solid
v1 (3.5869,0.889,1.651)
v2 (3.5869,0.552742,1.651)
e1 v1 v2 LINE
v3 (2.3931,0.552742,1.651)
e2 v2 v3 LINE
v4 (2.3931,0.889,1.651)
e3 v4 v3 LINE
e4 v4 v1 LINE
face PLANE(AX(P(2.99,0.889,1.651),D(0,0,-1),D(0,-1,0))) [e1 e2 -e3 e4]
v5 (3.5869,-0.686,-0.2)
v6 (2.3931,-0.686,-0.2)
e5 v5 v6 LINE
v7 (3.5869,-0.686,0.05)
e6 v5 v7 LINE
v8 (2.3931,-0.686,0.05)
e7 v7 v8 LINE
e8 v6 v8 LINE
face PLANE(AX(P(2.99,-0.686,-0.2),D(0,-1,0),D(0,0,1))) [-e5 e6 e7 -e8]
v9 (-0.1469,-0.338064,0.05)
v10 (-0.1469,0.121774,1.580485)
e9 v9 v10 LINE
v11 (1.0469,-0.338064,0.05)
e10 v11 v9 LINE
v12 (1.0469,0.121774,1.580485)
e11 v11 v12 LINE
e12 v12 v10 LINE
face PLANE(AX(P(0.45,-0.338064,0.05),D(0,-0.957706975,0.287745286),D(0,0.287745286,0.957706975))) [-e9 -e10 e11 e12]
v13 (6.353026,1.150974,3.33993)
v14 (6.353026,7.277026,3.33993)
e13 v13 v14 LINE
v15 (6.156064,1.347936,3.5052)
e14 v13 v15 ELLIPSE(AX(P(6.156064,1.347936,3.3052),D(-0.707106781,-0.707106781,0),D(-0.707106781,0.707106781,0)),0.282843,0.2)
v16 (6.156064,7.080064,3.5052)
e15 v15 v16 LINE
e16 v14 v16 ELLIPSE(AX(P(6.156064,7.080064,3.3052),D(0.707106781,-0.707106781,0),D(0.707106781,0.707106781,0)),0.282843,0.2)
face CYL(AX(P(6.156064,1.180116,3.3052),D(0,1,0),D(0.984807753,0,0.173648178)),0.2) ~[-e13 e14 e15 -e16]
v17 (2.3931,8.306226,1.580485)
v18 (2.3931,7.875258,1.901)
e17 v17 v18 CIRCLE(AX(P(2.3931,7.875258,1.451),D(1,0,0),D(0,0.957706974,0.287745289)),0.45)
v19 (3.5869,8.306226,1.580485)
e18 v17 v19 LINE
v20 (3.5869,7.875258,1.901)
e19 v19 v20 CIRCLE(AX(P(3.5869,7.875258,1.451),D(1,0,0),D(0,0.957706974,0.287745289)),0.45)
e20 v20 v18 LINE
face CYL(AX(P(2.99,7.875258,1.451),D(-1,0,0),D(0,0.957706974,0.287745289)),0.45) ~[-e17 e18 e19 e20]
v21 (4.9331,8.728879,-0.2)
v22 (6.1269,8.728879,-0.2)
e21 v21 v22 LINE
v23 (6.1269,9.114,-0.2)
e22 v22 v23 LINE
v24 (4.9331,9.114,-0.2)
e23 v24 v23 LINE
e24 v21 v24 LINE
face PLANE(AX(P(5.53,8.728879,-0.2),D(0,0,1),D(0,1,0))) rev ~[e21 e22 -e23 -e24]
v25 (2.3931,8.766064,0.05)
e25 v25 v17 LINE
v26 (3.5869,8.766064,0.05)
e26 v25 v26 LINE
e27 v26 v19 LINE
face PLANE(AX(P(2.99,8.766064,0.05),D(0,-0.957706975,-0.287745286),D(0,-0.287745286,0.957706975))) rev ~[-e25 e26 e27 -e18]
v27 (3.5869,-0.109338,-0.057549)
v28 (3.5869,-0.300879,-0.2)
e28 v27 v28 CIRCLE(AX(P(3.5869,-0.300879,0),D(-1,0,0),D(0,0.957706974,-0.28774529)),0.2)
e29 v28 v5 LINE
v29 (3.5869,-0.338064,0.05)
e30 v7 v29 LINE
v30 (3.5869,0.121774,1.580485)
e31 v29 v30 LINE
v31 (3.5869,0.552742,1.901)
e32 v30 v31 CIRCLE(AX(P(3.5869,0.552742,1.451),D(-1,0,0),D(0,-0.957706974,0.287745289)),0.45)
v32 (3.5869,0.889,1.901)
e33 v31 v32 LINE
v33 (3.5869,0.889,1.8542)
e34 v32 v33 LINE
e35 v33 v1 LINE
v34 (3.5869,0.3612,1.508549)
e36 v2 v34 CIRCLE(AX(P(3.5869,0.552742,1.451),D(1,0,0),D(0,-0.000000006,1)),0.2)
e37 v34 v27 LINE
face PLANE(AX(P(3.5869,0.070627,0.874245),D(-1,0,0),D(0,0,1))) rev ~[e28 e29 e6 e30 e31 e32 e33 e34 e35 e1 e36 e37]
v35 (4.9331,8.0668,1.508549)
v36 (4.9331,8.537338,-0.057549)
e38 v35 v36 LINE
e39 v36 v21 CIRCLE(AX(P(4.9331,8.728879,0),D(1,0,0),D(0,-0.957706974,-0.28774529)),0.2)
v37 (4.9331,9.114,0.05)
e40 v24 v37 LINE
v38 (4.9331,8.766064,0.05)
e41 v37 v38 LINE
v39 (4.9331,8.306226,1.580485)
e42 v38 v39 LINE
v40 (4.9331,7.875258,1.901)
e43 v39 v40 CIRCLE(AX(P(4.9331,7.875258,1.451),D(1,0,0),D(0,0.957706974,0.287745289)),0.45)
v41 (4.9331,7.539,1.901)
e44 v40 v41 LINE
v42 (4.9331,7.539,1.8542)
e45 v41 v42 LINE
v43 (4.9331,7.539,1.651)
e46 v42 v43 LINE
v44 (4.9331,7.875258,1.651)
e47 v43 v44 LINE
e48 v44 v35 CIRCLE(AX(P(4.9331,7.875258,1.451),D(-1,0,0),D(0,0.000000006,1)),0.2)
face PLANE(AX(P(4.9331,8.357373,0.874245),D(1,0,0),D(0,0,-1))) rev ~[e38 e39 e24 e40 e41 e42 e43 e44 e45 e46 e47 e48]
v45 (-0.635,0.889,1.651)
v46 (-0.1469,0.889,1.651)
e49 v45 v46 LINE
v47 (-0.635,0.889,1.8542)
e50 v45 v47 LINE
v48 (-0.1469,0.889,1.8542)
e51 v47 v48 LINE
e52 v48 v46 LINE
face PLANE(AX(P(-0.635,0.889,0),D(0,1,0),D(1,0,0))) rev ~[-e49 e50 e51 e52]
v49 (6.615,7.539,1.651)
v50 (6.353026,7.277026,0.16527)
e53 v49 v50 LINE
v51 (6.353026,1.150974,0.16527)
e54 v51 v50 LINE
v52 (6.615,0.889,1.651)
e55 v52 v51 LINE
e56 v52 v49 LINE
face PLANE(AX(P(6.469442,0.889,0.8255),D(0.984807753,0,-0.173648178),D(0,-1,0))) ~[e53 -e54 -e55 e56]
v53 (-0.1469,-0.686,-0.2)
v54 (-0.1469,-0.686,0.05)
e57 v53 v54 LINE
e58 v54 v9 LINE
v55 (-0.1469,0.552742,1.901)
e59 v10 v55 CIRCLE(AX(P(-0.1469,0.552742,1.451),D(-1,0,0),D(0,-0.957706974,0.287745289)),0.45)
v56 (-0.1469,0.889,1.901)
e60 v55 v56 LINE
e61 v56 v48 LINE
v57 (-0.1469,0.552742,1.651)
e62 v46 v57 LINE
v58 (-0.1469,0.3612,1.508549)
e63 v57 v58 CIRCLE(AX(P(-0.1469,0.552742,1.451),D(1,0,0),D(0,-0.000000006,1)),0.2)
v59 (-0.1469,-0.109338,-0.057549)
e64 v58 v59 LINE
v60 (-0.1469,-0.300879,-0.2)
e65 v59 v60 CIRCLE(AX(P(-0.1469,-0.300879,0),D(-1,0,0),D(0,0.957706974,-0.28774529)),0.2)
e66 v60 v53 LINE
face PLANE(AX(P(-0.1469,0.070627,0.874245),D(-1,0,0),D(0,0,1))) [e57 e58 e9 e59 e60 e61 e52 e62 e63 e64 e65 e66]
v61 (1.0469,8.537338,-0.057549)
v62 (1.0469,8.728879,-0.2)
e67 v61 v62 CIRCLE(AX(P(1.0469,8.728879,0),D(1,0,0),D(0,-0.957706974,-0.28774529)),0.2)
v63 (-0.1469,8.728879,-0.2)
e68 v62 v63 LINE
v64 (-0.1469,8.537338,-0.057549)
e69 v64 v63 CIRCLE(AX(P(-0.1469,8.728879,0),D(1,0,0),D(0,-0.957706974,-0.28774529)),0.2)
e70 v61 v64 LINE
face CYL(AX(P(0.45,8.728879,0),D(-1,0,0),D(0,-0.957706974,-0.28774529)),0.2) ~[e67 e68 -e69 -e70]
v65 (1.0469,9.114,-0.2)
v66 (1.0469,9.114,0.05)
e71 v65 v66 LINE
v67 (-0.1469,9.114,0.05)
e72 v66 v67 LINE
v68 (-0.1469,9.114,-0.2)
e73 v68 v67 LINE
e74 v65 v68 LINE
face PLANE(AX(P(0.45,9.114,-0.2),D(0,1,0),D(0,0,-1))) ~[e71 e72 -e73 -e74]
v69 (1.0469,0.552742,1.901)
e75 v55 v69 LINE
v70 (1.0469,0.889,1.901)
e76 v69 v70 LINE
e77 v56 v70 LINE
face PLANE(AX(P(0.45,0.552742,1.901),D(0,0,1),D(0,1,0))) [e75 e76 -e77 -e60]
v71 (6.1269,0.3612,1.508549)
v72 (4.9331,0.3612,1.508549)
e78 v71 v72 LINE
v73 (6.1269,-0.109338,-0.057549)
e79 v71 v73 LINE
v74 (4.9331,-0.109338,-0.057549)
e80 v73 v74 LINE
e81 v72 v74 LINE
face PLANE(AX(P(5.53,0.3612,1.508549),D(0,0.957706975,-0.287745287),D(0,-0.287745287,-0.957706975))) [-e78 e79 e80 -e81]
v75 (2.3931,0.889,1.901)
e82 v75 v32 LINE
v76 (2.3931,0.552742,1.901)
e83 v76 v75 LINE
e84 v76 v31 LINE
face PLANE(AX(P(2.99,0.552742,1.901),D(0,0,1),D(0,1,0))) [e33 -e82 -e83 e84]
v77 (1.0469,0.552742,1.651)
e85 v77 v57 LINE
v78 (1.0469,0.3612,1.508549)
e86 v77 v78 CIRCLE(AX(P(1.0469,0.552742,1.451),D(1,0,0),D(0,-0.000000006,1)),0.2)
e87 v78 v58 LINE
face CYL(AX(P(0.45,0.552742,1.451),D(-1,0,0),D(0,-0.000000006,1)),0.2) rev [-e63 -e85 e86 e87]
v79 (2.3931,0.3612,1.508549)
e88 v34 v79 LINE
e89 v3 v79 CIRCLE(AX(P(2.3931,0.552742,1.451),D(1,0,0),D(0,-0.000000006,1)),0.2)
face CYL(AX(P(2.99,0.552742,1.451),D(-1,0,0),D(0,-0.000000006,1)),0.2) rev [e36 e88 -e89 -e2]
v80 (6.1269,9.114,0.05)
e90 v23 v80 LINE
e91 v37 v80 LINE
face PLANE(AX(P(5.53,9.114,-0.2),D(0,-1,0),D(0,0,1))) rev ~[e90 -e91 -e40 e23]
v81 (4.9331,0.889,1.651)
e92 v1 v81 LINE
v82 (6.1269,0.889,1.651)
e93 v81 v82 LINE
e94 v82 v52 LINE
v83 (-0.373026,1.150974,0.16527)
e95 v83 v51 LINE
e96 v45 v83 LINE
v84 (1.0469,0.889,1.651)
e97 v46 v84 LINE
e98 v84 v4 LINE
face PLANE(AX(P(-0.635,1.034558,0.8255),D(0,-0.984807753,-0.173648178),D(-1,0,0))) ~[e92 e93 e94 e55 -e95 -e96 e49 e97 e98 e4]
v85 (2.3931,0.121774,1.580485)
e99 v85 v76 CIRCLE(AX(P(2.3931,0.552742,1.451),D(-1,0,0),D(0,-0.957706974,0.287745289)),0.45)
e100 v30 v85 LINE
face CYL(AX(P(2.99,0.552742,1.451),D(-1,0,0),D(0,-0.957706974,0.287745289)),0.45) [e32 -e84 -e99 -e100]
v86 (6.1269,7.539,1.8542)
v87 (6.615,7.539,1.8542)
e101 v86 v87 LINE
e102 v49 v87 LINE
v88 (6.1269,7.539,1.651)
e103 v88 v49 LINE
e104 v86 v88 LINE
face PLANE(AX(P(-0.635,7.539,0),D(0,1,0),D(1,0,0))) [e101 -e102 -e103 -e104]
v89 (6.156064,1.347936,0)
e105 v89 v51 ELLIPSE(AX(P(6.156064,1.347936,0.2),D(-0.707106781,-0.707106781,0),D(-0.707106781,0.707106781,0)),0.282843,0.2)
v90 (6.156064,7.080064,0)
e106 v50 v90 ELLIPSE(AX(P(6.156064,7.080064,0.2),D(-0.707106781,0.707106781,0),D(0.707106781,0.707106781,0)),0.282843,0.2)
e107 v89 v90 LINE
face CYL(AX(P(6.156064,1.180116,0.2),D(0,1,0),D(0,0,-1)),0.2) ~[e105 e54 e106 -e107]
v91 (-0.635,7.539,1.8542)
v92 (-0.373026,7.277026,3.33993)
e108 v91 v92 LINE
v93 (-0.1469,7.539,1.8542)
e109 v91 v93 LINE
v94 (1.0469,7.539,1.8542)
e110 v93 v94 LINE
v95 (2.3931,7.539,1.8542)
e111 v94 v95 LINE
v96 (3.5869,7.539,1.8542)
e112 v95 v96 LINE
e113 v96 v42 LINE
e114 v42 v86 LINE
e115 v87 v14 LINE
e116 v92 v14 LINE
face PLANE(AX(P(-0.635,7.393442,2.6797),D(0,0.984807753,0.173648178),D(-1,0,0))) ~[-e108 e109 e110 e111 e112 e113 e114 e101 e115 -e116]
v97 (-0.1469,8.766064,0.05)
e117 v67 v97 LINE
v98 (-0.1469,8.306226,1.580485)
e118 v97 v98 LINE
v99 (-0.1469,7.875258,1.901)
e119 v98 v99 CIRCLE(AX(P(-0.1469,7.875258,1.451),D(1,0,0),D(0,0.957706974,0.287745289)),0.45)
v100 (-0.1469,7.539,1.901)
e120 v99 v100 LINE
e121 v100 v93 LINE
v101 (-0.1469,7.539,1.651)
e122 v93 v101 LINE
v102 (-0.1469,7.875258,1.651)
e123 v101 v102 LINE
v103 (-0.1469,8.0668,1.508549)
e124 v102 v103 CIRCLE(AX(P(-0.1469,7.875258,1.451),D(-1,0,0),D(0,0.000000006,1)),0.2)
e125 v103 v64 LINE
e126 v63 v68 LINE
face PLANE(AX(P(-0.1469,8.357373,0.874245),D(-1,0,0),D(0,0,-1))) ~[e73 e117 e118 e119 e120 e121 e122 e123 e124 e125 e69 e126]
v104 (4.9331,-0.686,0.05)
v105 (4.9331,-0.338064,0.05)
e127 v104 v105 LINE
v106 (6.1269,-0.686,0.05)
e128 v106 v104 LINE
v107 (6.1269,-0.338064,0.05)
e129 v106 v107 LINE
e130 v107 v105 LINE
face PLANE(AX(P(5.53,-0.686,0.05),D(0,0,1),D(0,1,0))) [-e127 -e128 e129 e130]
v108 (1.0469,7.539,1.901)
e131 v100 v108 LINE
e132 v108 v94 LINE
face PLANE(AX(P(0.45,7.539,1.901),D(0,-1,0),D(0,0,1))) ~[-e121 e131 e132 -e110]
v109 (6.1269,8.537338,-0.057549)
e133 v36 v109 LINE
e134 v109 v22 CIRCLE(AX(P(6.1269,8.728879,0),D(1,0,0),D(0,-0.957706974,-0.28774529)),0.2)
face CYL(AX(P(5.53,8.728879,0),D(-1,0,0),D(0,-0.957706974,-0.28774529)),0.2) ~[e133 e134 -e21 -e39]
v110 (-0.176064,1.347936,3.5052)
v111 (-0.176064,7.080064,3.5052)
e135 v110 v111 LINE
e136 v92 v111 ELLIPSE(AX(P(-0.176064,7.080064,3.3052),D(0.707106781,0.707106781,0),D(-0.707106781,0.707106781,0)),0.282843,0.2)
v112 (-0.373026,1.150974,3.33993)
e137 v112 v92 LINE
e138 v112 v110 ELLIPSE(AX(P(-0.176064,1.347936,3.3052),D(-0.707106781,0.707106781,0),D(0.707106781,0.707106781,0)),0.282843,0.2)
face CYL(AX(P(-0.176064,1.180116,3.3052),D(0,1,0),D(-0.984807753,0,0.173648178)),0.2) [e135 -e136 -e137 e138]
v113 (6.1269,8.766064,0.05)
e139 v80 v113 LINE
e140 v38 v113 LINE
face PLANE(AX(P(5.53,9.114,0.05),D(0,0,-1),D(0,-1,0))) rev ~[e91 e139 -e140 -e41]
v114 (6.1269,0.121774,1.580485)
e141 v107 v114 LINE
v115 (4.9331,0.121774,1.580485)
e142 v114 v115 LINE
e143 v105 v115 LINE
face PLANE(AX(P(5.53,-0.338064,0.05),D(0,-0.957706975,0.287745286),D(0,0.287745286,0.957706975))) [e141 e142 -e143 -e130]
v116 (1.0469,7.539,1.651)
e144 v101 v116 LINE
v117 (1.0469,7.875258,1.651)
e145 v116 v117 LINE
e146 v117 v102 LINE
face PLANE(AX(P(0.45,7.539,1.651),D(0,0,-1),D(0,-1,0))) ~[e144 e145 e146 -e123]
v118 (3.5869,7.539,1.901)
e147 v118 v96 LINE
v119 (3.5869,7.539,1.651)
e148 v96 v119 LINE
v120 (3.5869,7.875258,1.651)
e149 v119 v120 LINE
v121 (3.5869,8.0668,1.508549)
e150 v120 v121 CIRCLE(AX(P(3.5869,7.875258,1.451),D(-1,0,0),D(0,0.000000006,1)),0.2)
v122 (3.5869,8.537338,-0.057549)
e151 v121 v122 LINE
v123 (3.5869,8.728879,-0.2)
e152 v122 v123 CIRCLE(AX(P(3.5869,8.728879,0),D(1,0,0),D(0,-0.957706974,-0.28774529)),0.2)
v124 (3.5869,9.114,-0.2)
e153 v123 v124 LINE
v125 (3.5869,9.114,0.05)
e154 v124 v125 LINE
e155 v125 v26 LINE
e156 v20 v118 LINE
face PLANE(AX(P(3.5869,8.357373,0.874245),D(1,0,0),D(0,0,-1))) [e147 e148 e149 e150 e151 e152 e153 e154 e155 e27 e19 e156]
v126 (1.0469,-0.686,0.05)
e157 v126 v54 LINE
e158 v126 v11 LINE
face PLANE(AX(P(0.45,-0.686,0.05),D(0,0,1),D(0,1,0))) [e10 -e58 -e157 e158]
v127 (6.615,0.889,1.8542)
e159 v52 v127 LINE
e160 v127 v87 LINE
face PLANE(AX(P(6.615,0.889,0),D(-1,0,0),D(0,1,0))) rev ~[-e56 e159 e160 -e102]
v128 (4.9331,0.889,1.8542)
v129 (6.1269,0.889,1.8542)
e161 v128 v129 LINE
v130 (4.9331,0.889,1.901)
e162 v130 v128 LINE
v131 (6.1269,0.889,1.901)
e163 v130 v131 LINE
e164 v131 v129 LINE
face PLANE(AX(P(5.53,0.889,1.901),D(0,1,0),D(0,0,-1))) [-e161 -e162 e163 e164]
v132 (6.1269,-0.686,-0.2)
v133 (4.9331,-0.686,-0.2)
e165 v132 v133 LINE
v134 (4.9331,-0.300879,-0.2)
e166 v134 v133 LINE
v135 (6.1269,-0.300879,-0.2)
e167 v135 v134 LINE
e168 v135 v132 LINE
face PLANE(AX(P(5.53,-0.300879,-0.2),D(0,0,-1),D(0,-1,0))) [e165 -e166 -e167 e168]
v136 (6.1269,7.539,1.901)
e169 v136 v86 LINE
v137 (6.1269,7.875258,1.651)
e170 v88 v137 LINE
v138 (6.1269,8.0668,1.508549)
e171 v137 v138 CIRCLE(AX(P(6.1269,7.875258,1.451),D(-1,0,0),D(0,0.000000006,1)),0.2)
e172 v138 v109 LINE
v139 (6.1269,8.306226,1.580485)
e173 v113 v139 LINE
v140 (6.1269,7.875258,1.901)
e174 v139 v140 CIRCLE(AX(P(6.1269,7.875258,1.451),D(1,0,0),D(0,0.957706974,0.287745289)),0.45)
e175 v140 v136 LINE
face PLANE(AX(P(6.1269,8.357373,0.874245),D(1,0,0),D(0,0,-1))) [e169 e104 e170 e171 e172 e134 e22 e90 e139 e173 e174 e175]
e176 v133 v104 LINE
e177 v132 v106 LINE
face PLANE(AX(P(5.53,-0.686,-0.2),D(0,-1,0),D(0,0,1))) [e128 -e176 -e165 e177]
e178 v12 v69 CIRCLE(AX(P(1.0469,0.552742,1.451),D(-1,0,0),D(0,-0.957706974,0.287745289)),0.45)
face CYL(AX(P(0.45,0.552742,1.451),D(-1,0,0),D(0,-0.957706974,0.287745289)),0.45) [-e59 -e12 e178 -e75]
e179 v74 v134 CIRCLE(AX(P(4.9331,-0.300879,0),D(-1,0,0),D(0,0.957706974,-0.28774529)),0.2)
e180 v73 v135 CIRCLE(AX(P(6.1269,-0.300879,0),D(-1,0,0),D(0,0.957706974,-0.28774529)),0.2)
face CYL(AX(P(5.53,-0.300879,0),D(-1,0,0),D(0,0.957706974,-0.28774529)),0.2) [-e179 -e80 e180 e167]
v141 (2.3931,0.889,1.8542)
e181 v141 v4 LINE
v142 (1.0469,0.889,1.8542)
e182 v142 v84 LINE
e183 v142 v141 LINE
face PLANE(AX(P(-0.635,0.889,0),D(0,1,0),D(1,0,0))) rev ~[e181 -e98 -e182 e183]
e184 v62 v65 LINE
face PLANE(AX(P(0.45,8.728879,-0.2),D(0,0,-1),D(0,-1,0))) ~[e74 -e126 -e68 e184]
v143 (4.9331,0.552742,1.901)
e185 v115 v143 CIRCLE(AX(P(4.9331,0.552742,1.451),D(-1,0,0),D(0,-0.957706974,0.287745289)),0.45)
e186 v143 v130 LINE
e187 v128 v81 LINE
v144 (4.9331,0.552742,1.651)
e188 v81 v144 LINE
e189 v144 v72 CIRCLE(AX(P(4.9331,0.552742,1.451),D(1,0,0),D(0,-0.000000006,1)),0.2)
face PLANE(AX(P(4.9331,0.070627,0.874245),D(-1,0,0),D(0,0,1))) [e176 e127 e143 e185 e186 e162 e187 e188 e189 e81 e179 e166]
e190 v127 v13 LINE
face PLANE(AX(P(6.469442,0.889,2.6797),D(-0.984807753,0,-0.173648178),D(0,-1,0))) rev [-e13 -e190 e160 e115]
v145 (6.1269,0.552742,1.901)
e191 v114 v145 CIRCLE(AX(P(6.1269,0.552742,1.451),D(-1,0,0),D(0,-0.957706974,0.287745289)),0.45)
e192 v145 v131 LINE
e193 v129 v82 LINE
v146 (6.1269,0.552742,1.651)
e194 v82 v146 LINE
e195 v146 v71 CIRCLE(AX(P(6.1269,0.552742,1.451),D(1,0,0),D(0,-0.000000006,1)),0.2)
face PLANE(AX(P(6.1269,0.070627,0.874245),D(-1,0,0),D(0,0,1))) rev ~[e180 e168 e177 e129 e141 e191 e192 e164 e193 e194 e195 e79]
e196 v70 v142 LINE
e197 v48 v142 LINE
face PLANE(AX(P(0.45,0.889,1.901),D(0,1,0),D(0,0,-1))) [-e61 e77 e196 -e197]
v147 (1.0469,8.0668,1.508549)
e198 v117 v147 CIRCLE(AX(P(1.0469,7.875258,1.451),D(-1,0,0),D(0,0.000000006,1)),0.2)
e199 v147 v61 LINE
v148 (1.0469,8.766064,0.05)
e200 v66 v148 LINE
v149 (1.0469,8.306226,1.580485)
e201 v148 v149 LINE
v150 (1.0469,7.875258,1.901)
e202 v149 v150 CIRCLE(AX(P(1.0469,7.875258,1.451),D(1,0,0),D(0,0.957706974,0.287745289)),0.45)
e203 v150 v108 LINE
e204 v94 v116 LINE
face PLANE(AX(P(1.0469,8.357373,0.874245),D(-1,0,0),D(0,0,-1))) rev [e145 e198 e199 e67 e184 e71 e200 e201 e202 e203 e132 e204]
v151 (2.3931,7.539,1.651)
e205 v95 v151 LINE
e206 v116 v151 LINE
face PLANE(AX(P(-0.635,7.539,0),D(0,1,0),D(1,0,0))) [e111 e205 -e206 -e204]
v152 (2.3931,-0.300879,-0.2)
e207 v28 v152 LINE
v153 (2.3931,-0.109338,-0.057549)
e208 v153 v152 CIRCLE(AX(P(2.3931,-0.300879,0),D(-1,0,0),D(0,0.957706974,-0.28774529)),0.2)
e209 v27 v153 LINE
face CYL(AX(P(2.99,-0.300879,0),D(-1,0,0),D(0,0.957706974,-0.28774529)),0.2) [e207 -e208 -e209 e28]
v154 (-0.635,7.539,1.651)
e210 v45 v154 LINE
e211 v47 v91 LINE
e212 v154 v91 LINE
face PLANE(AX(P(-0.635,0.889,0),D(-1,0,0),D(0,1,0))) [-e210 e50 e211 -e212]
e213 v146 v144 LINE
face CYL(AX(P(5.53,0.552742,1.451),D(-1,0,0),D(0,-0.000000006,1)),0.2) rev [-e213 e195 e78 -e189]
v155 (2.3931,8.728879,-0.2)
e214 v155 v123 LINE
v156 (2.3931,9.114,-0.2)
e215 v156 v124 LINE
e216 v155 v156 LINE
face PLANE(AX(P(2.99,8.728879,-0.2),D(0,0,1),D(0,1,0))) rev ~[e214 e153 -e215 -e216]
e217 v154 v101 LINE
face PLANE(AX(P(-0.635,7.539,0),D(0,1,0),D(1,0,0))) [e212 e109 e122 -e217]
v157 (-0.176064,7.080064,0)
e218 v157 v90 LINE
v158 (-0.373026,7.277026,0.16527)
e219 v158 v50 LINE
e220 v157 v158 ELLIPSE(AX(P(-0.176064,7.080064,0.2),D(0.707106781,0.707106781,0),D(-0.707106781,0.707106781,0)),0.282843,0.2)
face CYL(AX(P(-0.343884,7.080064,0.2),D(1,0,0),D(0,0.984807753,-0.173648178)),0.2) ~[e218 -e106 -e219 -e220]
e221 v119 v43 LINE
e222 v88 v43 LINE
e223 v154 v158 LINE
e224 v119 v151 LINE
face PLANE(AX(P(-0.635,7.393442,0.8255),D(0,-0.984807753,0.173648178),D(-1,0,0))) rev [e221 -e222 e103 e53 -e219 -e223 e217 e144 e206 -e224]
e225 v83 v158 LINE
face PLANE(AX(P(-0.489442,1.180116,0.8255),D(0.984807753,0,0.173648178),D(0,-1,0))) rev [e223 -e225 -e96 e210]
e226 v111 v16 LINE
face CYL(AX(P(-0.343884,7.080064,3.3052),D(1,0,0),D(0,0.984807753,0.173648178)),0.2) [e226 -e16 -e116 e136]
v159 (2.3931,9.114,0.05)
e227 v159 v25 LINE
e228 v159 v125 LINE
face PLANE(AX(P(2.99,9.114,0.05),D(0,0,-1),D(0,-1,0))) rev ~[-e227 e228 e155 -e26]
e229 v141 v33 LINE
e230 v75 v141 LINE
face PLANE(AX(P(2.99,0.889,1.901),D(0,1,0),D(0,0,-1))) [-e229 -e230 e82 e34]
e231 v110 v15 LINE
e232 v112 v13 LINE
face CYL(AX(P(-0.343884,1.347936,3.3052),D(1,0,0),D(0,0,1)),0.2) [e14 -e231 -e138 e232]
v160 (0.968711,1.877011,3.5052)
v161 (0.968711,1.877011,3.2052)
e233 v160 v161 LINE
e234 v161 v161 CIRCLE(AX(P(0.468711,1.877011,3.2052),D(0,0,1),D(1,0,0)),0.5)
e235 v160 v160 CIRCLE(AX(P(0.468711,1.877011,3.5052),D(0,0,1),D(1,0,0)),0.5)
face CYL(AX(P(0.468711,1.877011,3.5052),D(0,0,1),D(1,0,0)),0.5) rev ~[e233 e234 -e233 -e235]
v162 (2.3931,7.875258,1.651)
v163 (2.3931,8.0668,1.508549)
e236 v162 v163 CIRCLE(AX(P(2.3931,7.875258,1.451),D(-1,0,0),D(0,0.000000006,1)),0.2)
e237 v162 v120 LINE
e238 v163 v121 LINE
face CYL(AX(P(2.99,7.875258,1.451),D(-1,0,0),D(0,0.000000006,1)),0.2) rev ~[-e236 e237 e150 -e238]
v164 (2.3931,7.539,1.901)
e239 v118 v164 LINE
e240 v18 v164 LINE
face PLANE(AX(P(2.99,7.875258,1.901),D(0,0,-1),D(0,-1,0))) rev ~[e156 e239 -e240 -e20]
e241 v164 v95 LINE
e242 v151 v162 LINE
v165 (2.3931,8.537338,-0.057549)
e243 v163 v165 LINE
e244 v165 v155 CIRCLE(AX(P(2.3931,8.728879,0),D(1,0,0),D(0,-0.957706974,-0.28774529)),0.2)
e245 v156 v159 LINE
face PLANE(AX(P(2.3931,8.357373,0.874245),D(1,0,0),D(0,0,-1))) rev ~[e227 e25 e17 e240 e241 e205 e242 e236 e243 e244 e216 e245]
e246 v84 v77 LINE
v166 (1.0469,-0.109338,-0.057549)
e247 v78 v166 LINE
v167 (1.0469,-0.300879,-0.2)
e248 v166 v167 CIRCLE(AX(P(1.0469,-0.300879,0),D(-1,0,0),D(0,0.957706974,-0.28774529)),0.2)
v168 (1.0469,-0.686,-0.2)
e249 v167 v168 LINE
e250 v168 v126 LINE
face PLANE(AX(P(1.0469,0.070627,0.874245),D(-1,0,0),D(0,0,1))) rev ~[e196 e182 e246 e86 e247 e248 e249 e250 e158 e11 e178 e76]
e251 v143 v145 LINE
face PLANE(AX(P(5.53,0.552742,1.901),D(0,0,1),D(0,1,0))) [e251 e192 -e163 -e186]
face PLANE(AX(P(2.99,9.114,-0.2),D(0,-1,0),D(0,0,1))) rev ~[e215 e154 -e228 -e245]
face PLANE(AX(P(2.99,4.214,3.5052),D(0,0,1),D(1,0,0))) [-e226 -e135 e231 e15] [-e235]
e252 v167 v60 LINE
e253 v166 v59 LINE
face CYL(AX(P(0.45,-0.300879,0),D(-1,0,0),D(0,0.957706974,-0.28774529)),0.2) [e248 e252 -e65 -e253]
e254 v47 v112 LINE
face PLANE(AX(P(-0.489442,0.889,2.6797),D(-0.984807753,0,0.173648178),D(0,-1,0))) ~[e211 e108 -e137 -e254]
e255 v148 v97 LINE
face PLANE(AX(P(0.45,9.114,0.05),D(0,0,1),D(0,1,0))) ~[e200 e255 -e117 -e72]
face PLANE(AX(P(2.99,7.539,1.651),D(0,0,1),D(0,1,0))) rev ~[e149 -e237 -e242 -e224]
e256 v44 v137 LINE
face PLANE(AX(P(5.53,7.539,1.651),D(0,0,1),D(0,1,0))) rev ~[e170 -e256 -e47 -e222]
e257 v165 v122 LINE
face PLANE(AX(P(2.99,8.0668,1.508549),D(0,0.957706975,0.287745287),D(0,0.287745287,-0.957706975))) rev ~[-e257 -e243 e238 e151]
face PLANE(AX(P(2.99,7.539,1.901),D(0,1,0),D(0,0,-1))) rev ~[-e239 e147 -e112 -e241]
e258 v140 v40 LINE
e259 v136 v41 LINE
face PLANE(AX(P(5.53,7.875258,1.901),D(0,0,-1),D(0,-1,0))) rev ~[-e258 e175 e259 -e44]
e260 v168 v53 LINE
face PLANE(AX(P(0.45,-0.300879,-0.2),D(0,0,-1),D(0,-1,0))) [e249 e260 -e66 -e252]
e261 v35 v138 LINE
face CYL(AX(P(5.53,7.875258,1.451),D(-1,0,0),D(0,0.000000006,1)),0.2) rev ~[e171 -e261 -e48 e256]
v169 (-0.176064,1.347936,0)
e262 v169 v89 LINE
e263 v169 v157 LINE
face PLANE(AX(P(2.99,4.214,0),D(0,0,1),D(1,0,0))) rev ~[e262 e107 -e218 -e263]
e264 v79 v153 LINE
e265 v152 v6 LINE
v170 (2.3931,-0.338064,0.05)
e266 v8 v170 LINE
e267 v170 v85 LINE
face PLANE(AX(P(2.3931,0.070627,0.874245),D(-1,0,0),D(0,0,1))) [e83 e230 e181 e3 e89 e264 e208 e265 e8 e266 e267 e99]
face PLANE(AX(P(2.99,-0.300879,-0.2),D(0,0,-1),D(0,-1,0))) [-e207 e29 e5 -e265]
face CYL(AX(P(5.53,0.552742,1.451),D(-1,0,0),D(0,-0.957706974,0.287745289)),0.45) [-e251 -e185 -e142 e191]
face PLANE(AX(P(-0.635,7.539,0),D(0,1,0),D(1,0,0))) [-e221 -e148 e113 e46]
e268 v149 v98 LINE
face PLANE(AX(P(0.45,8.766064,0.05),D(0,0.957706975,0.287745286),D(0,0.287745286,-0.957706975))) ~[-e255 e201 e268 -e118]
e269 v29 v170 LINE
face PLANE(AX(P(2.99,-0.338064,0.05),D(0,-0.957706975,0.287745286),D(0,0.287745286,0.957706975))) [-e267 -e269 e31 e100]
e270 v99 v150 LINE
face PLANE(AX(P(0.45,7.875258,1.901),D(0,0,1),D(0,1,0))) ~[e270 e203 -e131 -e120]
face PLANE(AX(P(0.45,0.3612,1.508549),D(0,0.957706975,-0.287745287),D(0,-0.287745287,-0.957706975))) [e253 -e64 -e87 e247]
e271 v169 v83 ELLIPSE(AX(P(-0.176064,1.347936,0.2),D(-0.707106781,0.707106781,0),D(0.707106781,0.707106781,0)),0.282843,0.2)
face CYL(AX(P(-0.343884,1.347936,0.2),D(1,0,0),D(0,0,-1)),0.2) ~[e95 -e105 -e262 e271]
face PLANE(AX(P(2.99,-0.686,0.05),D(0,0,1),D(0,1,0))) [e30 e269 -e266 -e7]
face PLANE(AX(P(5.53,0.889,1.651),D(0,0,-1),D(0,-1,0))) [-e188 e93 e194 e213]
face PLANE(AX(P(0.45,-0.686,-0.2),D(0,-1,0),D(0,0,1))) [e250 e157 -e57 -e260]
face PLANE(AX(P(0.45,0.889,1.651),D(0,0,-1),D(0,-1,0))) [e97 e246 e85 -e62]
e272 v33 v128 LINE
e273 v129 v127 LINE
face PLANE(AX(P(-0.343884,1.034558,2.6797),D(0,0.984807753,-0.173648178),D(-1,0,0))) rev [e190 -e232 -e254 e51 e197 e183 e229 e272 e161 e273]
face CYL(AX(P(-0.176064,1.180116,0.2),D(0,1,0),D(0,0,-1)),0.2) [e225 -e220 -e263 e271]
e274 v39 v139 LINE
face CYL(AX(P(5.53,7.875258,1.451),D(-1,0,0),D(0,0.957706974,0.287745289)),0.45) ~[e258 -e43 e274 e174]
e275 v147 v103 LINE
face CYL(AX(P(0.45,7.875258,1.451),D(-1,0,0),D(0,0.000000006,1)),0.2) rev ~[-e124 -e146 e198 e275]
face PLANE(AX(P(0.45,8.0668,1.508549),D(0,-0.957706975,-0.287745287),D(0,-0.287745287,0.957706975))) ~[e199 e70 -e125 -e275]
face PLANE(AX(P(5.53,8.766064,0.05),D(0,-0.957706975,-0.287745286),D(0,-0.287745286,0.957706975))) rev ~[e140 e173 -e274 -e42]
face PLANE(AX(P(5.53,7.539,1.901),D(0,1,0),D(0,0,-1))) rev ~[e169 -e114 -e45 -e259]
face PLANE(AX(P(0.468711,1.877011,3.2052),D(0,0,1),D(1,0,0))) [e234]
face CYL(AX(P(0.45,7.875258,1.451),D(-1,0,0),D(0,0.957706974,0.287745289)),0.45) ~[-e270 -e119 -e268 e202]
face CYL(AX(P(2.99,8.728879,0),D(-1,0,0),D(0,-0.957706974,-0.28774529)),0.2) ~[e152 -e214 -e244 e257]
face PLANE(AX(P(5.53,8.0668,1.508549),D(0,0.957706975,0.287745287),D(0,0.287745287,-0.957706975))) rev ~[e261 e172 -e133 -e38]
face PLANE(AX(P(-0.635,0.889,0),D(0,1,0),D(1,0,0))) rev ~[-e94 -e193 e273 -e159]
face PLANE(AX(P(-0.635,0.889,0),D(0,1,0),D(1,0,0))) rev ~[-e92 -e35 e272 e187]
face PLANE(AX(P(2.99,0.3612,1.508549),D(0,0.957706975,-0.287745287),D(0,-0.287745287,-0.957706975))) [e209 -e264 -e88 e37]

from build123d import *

# Parameters (mm, degrees)
SKETCH1_W                = 7.25
SKETCH1_H                = 6.65
BASE_EXTRUDE_DEPTH       = 3.5052
CHAMFER1_SIZE            = 1.651
CHAMFER1_SIZE2           = 0.291115845
CHAMFER1_PART_2_SIZE     = 1.651
CHAMFER1_PART_2_SIZE2    = 0.291115845
CHAMFER1_PART_3_SIZE     = 1.651
CHAMFER1_PART_3_SIZE2    = 0.291115845
CHAMFER1_PART_4_SIZE     = 1.651
CHAMFER1_PART_4_SIZE2    = 0.291115845
CHAMFER2_SIZE            = 1.651
CHAMFER2_SIZE2           = 0.291115845
CHAMFER2_PART_2_SIZE     = 1.651
CHAMFER2_PART_2_SIZE2    = 0.291115845
CHAMFER2_PART_3_SIZE     = 1.651
CHAMFER2_PART_3_SIZE2    = 0.291115845
CHAMFER2_PART_4_SIZE     = 1.651
CHAMFER2_PART_4_SIZE2    = 0.291115845
SKETCH3_R                = 0.5
CUT_EXTRUDE1_DEPTH       = 0.3
BOSS_EXTRUDE_THIN3_DEPTH = 0.5969
LPATTERN1_COUNT          = 3
LPATTERN1_PITCH          = 2.54
MIRROR1_COPY_1_DEPTH     = 0.5969
MIRROR1_COPY_2_DEPTH     = 0.5969
FILLET_1_R               = 0.2


with BuildPart() as part:
    # Sketch1 → Base-Extrude (new body)
    with BuildSketch(Plane.XY):
        with Locations((2.99, 4.214)):
            Rectangle(SKETCH1_W, SKETCH1_H)
    extrude(amount=BASE_EXTRUDE_DEPTH)

    # Chamfer1
    chamfer1_edges = [part.edges().sort_by_distance(p)[0] for p in [
        (6.615, 4.214, 3.5052),
    ]]
    chamfer1_side = [part.faces().sort_by_distance(p)[0] for p in [
        (6.615, 4.214, 1.7526),
    ]]
    chamfer(chamfer1_edges, length=CHAMFER1_SIZE, length2=CHAMFER1_SIZE2, reference=chamfer1_side[0])

    # Chamfer1 part 2
    chamfer1_part_2_edges = [part.edges().sort_by_distance(p)[0] for p in [
        (2.99, 7.539, 3.5052),
    ]]
    chamfer1_part_2_side = [part.faces().sort_by_distance(p)[0] for p in [
        (2.99, 7.539, 1.7526),
    ]]
    chamfer(chamfer1_part_2_edges, length=CHAMFER1_PART_2_SIZE, length2=CHAMFER1_PART_2_SIZE2, reference=chamfer1_part_2_side[0])

    # Chamfer1 part 3
    chamfer1_part_3_edges = [part.edges().sort_by_distance(p)[0] for p in [
        (-0.635, 4.214, 3.5052),
    ]]
    chamfer1_part_3_side = [part.faces().sort_by_distance(p)[0] for p in [
        (-0.635, 4.214, 1.7526),
    ]]
    chamfer(chamfer1_part_3_edges, length=CHAMFER1_PART_3_SIZE, length2=CHAMFER1_PART_3_SIZE2, reference=chamfer1_part_3_side[0])

    # Chamfer1 part 4
    chamfer1_part_4_edges = [part.edges().sort_by_distance(p)[0] for p in [
        (2.99, 0.889, 3.5052),
    ]]
    chamfer1_part_4_side = [part.faces().sort_by_distance(p)[0] for p in [
        (2.99, 0.889, 1.7526),
    ]]
    chamfer(chamfer1_part_4_edges, length=CHAMFER1_PART_4_SIZE, length2=CHAMFER1_PART_4_SIZE2, reference=chamfer1_part_4_side[0])

    # Chamfer2
    chamfer2_edges = [part.edges().sort_by_distance(p)[0] for p in [
        (2.99, 7.539, 0),
    ]]
    chamfer2_side = [part.faces().sort_by_distance(p)[0] for p in [
        (2.99, 7.539, 0.9271),
    ]]
    chamfer(chamfer2_edges, length=CHAMFER2_SIZE, length2=CHAMFER2_SIZE2, reference=chamfer2_side[0])

    # Chamfer2 part 2
    chamfer2_part_2_edges = [part.edges().sort_by_distance(p)[0] for p in [
        (6.615, 4.214, 0),
    ]]
    chamfer2_part_2_side = [part.faces().sort_by_distance(p)[0] for p in [
        (6.615, 4.214, 0.9271),
    ]]
    chamfer(chamfer2_part_2_edges, length=CHAMFER2_PART_2_SIZE, length2=CHAMFER2_PART_2_SIZE2, reference=chamfer2_part_2_side[0])

    # Chamfer2 part 3
    chamfer2_part_3_edges = [part.edges().sort_by_distance(p)[0] for p in [
        (2.99, 0.889, 0),
    ]]
    chamfer2_part_3_side = [part.faces().sort_by_distance(p)[0] for p in [
        (2.99, 0.889, 0.9271),
    ]]
    chamfer(chamfer2_part_3_edges, length=CHAMFER2_PART_3_SIZE, length2=CHAMFER2_PART_3_SIZE2, reference=chamfer2_part_3_side[0])

    # Chamfer2 part 4
    chamfer2_part_4_edges = [part.edges().sort_by_distance(p)[0] for p in [
        (-0.635, 4.214, 0),
    ]]
    chamfer2_part_4_side = [part.faces().sort_by_distance(p)[0] for p in [
        (-0.635, 4.214, 0.9271),
    ]]
    chamfer(chamfer2_part_4_edges, length=CHAMFER2_PART_4_SIZE, length2=CHAMFER2_PART_4_SIZE2, reference=chamfer2_part_4_side[0])

    # Sketch3 → Cut-Extrude1 (cut)
    with BuildSketch(Plane(origin=(0.118935742, 0.142956615, 3.5052), x_dir=(1, 0, 0), z_dir=(0, 0, 1))):
        with Locations((0.349775267, 1.734053999)):
            Circle(SKETCH3_R)
    extrude(amount=-CUT_EXTRUDE1_DEPTH, mode=Mode.SUBTRACT)

    # Sketch4 → Boss-Extrude-Thin3 (add, symmetric)
    with BuildSketch(Plane.ZY.offset(-0.45)):
        with BuildLine():
            Line((1.651, 0.889), (1.651, 0.552741678))
            ThreePointArc((1.651, 0.552741678), (1.61148335, 0.433388864), (1.508549057, 0.361200283))
            Line((1.508549057, 0.361200283), (-0.057549057, -0.109337536))
            ThreePointArc((-0.057549057, -0.109337536), (-0.16048335, -0.181526117), (-0.2, -0.300878931))
            Line((-0.2, -0.300878931), (-0.2, -0.686))
            Line((-0.2, -0.686), (0.05, -0.686))
            Line((0.05, -0.686), (0.05, -0.33806435))
            Line((0.05, -0.33806435), (1.580485379, 0.121773539))
            ThreePointArc((1.580485379, 0.121773539), (1.812087538, 0.284197846), (1.901, 0.552741678))
            Line((1.901, 0.552741678), (1.901, 0.889))
            Line((1.901, 0.889), (1.651, 0.889))
        make_face()
    boss_extrude_thin3 = extrude(amount=BOSS_EXTRUDE_THIN3_DEPTH, both=True)

    # LPattern1: Boss-Extrude-Thin3 ×3
    with Locations(*[(i * LPATTERN1_PITCH, 0, 0) for i in range(1, LPATTERN1_COUNT)]):
        add(boss_extrude_thin3)

    # Mirror1: Boss-Extrude-Thin3 across plane
    add(boss_extrude_thin3.mirror(Plane(origin=(0, 4.214, 0), x_dir=(0, 0, 1), z_dir=(0, -1, 0))))

    # Mirror1 copy 1 sketch → Mirror1 copy 1 (add, symmetric)
    with BuildSketch(Plane(origin=(2.99, 8.428, 0), x_dir=(0, 0, 1), z_dir=(-1, 0, 0))):
        with BuildLine():
            Line((1.651, -0.889), (1.651, -0.552741678))
            ThreePointArc((1.651, -0.552741678), (1.61148335, -0.433388864), (1.508549057, -0.361200283))
            Line((1.508549057, -0.361200283), (-0.057549057, 0.109337536))
            ThreePointArc((-0.057549057, 0.109337536), (-0.16048335, 0.181526117), (-0.2, 0.300878931))
            Line((-0.2, 0.300878931), (-0.2, 0.686))
            Line((-0.2, 0.686), (0.05, 0.686))
            Line((0.05, 0.686), (0.05, 0.33806435))
            Line((0.05, 0.33806435), (1.580485379, -0.121773539))
            ThreePointArc((1.580485379, -0.121773539), (1.812087538, -0.284197846), (1.901, -0.552741678))
            Line((1.901, -0.552741678), (1.901, -0.889))
            Line((1.901, -0.889), (1.651, -0.889))
        make_face()
    extrude(amount=MIRROR1_COPY_1_DEPTH, both=True)

    # Mirror1 copy 2 sketch → Mirror1 copy 2 (add, symmetric)
    with BuildSketch(Plane(origin=(5.53, 8.428, 0), x_dir=(0, 0, 1), z_dir=(-1, 0, 0))):
        with BuildLine():
            Line((1.651, -0.889), (1.651, -0.552741678))
            ThreePointArc((1.651, -0.552741678), (1.61148335, -0.433388864), (1.508549057, -0.361200283))
            Line((1.508549057, -0.361200283), (-0.057549057, 0.109337536))
            ThreePointArc((-0.057549057, 0.109337536), (-0.16048335, 0.181526117), (-0.2, 0.300878931))
            Line((-0.2, 0.300878931), (-0.2, 0.686))
            Line((-0.2, 0.686), (0.05, 0.686))
            Line((0.05, 0.686), (0.05, 0.33806435))
            Line((0.05, 0.33806435), (1.580485379, -0.121773539))
            ThreePointArc((1.580485379, -0.121773539), (1.812087538, -0.284197846), (1.901, -0.552741678))
            Line((1.901, -0.552741678), (1.901, -0.889))
            Line((1.901, -0.889), (1.651, -0.889))
        make_face()
    extrude(amount=MIRROR1_COPY_2_DEPTH, both=True)

    # Скругление1
    fillet_1_edges = [part.edges().sort_by_distance(p)[0] for p in [
        (-0.343884155, 4.214, 3.5052),
        (2.99, 7.247884155, 3.5052),
        (6.323884155, 4.214, 3.5052),
        (2.99, 1.180115845, 3.5052),
        (-0.343884155, 4.214, 0),
        (2.99, 7.247884155, 0),
        (6.323884155, 4.214, 0),
        (2.99, 1.180115845, 0),
    ]]
    fillet(fillet_1_edges, radius=FILLET_1_R)


solid = part.part
